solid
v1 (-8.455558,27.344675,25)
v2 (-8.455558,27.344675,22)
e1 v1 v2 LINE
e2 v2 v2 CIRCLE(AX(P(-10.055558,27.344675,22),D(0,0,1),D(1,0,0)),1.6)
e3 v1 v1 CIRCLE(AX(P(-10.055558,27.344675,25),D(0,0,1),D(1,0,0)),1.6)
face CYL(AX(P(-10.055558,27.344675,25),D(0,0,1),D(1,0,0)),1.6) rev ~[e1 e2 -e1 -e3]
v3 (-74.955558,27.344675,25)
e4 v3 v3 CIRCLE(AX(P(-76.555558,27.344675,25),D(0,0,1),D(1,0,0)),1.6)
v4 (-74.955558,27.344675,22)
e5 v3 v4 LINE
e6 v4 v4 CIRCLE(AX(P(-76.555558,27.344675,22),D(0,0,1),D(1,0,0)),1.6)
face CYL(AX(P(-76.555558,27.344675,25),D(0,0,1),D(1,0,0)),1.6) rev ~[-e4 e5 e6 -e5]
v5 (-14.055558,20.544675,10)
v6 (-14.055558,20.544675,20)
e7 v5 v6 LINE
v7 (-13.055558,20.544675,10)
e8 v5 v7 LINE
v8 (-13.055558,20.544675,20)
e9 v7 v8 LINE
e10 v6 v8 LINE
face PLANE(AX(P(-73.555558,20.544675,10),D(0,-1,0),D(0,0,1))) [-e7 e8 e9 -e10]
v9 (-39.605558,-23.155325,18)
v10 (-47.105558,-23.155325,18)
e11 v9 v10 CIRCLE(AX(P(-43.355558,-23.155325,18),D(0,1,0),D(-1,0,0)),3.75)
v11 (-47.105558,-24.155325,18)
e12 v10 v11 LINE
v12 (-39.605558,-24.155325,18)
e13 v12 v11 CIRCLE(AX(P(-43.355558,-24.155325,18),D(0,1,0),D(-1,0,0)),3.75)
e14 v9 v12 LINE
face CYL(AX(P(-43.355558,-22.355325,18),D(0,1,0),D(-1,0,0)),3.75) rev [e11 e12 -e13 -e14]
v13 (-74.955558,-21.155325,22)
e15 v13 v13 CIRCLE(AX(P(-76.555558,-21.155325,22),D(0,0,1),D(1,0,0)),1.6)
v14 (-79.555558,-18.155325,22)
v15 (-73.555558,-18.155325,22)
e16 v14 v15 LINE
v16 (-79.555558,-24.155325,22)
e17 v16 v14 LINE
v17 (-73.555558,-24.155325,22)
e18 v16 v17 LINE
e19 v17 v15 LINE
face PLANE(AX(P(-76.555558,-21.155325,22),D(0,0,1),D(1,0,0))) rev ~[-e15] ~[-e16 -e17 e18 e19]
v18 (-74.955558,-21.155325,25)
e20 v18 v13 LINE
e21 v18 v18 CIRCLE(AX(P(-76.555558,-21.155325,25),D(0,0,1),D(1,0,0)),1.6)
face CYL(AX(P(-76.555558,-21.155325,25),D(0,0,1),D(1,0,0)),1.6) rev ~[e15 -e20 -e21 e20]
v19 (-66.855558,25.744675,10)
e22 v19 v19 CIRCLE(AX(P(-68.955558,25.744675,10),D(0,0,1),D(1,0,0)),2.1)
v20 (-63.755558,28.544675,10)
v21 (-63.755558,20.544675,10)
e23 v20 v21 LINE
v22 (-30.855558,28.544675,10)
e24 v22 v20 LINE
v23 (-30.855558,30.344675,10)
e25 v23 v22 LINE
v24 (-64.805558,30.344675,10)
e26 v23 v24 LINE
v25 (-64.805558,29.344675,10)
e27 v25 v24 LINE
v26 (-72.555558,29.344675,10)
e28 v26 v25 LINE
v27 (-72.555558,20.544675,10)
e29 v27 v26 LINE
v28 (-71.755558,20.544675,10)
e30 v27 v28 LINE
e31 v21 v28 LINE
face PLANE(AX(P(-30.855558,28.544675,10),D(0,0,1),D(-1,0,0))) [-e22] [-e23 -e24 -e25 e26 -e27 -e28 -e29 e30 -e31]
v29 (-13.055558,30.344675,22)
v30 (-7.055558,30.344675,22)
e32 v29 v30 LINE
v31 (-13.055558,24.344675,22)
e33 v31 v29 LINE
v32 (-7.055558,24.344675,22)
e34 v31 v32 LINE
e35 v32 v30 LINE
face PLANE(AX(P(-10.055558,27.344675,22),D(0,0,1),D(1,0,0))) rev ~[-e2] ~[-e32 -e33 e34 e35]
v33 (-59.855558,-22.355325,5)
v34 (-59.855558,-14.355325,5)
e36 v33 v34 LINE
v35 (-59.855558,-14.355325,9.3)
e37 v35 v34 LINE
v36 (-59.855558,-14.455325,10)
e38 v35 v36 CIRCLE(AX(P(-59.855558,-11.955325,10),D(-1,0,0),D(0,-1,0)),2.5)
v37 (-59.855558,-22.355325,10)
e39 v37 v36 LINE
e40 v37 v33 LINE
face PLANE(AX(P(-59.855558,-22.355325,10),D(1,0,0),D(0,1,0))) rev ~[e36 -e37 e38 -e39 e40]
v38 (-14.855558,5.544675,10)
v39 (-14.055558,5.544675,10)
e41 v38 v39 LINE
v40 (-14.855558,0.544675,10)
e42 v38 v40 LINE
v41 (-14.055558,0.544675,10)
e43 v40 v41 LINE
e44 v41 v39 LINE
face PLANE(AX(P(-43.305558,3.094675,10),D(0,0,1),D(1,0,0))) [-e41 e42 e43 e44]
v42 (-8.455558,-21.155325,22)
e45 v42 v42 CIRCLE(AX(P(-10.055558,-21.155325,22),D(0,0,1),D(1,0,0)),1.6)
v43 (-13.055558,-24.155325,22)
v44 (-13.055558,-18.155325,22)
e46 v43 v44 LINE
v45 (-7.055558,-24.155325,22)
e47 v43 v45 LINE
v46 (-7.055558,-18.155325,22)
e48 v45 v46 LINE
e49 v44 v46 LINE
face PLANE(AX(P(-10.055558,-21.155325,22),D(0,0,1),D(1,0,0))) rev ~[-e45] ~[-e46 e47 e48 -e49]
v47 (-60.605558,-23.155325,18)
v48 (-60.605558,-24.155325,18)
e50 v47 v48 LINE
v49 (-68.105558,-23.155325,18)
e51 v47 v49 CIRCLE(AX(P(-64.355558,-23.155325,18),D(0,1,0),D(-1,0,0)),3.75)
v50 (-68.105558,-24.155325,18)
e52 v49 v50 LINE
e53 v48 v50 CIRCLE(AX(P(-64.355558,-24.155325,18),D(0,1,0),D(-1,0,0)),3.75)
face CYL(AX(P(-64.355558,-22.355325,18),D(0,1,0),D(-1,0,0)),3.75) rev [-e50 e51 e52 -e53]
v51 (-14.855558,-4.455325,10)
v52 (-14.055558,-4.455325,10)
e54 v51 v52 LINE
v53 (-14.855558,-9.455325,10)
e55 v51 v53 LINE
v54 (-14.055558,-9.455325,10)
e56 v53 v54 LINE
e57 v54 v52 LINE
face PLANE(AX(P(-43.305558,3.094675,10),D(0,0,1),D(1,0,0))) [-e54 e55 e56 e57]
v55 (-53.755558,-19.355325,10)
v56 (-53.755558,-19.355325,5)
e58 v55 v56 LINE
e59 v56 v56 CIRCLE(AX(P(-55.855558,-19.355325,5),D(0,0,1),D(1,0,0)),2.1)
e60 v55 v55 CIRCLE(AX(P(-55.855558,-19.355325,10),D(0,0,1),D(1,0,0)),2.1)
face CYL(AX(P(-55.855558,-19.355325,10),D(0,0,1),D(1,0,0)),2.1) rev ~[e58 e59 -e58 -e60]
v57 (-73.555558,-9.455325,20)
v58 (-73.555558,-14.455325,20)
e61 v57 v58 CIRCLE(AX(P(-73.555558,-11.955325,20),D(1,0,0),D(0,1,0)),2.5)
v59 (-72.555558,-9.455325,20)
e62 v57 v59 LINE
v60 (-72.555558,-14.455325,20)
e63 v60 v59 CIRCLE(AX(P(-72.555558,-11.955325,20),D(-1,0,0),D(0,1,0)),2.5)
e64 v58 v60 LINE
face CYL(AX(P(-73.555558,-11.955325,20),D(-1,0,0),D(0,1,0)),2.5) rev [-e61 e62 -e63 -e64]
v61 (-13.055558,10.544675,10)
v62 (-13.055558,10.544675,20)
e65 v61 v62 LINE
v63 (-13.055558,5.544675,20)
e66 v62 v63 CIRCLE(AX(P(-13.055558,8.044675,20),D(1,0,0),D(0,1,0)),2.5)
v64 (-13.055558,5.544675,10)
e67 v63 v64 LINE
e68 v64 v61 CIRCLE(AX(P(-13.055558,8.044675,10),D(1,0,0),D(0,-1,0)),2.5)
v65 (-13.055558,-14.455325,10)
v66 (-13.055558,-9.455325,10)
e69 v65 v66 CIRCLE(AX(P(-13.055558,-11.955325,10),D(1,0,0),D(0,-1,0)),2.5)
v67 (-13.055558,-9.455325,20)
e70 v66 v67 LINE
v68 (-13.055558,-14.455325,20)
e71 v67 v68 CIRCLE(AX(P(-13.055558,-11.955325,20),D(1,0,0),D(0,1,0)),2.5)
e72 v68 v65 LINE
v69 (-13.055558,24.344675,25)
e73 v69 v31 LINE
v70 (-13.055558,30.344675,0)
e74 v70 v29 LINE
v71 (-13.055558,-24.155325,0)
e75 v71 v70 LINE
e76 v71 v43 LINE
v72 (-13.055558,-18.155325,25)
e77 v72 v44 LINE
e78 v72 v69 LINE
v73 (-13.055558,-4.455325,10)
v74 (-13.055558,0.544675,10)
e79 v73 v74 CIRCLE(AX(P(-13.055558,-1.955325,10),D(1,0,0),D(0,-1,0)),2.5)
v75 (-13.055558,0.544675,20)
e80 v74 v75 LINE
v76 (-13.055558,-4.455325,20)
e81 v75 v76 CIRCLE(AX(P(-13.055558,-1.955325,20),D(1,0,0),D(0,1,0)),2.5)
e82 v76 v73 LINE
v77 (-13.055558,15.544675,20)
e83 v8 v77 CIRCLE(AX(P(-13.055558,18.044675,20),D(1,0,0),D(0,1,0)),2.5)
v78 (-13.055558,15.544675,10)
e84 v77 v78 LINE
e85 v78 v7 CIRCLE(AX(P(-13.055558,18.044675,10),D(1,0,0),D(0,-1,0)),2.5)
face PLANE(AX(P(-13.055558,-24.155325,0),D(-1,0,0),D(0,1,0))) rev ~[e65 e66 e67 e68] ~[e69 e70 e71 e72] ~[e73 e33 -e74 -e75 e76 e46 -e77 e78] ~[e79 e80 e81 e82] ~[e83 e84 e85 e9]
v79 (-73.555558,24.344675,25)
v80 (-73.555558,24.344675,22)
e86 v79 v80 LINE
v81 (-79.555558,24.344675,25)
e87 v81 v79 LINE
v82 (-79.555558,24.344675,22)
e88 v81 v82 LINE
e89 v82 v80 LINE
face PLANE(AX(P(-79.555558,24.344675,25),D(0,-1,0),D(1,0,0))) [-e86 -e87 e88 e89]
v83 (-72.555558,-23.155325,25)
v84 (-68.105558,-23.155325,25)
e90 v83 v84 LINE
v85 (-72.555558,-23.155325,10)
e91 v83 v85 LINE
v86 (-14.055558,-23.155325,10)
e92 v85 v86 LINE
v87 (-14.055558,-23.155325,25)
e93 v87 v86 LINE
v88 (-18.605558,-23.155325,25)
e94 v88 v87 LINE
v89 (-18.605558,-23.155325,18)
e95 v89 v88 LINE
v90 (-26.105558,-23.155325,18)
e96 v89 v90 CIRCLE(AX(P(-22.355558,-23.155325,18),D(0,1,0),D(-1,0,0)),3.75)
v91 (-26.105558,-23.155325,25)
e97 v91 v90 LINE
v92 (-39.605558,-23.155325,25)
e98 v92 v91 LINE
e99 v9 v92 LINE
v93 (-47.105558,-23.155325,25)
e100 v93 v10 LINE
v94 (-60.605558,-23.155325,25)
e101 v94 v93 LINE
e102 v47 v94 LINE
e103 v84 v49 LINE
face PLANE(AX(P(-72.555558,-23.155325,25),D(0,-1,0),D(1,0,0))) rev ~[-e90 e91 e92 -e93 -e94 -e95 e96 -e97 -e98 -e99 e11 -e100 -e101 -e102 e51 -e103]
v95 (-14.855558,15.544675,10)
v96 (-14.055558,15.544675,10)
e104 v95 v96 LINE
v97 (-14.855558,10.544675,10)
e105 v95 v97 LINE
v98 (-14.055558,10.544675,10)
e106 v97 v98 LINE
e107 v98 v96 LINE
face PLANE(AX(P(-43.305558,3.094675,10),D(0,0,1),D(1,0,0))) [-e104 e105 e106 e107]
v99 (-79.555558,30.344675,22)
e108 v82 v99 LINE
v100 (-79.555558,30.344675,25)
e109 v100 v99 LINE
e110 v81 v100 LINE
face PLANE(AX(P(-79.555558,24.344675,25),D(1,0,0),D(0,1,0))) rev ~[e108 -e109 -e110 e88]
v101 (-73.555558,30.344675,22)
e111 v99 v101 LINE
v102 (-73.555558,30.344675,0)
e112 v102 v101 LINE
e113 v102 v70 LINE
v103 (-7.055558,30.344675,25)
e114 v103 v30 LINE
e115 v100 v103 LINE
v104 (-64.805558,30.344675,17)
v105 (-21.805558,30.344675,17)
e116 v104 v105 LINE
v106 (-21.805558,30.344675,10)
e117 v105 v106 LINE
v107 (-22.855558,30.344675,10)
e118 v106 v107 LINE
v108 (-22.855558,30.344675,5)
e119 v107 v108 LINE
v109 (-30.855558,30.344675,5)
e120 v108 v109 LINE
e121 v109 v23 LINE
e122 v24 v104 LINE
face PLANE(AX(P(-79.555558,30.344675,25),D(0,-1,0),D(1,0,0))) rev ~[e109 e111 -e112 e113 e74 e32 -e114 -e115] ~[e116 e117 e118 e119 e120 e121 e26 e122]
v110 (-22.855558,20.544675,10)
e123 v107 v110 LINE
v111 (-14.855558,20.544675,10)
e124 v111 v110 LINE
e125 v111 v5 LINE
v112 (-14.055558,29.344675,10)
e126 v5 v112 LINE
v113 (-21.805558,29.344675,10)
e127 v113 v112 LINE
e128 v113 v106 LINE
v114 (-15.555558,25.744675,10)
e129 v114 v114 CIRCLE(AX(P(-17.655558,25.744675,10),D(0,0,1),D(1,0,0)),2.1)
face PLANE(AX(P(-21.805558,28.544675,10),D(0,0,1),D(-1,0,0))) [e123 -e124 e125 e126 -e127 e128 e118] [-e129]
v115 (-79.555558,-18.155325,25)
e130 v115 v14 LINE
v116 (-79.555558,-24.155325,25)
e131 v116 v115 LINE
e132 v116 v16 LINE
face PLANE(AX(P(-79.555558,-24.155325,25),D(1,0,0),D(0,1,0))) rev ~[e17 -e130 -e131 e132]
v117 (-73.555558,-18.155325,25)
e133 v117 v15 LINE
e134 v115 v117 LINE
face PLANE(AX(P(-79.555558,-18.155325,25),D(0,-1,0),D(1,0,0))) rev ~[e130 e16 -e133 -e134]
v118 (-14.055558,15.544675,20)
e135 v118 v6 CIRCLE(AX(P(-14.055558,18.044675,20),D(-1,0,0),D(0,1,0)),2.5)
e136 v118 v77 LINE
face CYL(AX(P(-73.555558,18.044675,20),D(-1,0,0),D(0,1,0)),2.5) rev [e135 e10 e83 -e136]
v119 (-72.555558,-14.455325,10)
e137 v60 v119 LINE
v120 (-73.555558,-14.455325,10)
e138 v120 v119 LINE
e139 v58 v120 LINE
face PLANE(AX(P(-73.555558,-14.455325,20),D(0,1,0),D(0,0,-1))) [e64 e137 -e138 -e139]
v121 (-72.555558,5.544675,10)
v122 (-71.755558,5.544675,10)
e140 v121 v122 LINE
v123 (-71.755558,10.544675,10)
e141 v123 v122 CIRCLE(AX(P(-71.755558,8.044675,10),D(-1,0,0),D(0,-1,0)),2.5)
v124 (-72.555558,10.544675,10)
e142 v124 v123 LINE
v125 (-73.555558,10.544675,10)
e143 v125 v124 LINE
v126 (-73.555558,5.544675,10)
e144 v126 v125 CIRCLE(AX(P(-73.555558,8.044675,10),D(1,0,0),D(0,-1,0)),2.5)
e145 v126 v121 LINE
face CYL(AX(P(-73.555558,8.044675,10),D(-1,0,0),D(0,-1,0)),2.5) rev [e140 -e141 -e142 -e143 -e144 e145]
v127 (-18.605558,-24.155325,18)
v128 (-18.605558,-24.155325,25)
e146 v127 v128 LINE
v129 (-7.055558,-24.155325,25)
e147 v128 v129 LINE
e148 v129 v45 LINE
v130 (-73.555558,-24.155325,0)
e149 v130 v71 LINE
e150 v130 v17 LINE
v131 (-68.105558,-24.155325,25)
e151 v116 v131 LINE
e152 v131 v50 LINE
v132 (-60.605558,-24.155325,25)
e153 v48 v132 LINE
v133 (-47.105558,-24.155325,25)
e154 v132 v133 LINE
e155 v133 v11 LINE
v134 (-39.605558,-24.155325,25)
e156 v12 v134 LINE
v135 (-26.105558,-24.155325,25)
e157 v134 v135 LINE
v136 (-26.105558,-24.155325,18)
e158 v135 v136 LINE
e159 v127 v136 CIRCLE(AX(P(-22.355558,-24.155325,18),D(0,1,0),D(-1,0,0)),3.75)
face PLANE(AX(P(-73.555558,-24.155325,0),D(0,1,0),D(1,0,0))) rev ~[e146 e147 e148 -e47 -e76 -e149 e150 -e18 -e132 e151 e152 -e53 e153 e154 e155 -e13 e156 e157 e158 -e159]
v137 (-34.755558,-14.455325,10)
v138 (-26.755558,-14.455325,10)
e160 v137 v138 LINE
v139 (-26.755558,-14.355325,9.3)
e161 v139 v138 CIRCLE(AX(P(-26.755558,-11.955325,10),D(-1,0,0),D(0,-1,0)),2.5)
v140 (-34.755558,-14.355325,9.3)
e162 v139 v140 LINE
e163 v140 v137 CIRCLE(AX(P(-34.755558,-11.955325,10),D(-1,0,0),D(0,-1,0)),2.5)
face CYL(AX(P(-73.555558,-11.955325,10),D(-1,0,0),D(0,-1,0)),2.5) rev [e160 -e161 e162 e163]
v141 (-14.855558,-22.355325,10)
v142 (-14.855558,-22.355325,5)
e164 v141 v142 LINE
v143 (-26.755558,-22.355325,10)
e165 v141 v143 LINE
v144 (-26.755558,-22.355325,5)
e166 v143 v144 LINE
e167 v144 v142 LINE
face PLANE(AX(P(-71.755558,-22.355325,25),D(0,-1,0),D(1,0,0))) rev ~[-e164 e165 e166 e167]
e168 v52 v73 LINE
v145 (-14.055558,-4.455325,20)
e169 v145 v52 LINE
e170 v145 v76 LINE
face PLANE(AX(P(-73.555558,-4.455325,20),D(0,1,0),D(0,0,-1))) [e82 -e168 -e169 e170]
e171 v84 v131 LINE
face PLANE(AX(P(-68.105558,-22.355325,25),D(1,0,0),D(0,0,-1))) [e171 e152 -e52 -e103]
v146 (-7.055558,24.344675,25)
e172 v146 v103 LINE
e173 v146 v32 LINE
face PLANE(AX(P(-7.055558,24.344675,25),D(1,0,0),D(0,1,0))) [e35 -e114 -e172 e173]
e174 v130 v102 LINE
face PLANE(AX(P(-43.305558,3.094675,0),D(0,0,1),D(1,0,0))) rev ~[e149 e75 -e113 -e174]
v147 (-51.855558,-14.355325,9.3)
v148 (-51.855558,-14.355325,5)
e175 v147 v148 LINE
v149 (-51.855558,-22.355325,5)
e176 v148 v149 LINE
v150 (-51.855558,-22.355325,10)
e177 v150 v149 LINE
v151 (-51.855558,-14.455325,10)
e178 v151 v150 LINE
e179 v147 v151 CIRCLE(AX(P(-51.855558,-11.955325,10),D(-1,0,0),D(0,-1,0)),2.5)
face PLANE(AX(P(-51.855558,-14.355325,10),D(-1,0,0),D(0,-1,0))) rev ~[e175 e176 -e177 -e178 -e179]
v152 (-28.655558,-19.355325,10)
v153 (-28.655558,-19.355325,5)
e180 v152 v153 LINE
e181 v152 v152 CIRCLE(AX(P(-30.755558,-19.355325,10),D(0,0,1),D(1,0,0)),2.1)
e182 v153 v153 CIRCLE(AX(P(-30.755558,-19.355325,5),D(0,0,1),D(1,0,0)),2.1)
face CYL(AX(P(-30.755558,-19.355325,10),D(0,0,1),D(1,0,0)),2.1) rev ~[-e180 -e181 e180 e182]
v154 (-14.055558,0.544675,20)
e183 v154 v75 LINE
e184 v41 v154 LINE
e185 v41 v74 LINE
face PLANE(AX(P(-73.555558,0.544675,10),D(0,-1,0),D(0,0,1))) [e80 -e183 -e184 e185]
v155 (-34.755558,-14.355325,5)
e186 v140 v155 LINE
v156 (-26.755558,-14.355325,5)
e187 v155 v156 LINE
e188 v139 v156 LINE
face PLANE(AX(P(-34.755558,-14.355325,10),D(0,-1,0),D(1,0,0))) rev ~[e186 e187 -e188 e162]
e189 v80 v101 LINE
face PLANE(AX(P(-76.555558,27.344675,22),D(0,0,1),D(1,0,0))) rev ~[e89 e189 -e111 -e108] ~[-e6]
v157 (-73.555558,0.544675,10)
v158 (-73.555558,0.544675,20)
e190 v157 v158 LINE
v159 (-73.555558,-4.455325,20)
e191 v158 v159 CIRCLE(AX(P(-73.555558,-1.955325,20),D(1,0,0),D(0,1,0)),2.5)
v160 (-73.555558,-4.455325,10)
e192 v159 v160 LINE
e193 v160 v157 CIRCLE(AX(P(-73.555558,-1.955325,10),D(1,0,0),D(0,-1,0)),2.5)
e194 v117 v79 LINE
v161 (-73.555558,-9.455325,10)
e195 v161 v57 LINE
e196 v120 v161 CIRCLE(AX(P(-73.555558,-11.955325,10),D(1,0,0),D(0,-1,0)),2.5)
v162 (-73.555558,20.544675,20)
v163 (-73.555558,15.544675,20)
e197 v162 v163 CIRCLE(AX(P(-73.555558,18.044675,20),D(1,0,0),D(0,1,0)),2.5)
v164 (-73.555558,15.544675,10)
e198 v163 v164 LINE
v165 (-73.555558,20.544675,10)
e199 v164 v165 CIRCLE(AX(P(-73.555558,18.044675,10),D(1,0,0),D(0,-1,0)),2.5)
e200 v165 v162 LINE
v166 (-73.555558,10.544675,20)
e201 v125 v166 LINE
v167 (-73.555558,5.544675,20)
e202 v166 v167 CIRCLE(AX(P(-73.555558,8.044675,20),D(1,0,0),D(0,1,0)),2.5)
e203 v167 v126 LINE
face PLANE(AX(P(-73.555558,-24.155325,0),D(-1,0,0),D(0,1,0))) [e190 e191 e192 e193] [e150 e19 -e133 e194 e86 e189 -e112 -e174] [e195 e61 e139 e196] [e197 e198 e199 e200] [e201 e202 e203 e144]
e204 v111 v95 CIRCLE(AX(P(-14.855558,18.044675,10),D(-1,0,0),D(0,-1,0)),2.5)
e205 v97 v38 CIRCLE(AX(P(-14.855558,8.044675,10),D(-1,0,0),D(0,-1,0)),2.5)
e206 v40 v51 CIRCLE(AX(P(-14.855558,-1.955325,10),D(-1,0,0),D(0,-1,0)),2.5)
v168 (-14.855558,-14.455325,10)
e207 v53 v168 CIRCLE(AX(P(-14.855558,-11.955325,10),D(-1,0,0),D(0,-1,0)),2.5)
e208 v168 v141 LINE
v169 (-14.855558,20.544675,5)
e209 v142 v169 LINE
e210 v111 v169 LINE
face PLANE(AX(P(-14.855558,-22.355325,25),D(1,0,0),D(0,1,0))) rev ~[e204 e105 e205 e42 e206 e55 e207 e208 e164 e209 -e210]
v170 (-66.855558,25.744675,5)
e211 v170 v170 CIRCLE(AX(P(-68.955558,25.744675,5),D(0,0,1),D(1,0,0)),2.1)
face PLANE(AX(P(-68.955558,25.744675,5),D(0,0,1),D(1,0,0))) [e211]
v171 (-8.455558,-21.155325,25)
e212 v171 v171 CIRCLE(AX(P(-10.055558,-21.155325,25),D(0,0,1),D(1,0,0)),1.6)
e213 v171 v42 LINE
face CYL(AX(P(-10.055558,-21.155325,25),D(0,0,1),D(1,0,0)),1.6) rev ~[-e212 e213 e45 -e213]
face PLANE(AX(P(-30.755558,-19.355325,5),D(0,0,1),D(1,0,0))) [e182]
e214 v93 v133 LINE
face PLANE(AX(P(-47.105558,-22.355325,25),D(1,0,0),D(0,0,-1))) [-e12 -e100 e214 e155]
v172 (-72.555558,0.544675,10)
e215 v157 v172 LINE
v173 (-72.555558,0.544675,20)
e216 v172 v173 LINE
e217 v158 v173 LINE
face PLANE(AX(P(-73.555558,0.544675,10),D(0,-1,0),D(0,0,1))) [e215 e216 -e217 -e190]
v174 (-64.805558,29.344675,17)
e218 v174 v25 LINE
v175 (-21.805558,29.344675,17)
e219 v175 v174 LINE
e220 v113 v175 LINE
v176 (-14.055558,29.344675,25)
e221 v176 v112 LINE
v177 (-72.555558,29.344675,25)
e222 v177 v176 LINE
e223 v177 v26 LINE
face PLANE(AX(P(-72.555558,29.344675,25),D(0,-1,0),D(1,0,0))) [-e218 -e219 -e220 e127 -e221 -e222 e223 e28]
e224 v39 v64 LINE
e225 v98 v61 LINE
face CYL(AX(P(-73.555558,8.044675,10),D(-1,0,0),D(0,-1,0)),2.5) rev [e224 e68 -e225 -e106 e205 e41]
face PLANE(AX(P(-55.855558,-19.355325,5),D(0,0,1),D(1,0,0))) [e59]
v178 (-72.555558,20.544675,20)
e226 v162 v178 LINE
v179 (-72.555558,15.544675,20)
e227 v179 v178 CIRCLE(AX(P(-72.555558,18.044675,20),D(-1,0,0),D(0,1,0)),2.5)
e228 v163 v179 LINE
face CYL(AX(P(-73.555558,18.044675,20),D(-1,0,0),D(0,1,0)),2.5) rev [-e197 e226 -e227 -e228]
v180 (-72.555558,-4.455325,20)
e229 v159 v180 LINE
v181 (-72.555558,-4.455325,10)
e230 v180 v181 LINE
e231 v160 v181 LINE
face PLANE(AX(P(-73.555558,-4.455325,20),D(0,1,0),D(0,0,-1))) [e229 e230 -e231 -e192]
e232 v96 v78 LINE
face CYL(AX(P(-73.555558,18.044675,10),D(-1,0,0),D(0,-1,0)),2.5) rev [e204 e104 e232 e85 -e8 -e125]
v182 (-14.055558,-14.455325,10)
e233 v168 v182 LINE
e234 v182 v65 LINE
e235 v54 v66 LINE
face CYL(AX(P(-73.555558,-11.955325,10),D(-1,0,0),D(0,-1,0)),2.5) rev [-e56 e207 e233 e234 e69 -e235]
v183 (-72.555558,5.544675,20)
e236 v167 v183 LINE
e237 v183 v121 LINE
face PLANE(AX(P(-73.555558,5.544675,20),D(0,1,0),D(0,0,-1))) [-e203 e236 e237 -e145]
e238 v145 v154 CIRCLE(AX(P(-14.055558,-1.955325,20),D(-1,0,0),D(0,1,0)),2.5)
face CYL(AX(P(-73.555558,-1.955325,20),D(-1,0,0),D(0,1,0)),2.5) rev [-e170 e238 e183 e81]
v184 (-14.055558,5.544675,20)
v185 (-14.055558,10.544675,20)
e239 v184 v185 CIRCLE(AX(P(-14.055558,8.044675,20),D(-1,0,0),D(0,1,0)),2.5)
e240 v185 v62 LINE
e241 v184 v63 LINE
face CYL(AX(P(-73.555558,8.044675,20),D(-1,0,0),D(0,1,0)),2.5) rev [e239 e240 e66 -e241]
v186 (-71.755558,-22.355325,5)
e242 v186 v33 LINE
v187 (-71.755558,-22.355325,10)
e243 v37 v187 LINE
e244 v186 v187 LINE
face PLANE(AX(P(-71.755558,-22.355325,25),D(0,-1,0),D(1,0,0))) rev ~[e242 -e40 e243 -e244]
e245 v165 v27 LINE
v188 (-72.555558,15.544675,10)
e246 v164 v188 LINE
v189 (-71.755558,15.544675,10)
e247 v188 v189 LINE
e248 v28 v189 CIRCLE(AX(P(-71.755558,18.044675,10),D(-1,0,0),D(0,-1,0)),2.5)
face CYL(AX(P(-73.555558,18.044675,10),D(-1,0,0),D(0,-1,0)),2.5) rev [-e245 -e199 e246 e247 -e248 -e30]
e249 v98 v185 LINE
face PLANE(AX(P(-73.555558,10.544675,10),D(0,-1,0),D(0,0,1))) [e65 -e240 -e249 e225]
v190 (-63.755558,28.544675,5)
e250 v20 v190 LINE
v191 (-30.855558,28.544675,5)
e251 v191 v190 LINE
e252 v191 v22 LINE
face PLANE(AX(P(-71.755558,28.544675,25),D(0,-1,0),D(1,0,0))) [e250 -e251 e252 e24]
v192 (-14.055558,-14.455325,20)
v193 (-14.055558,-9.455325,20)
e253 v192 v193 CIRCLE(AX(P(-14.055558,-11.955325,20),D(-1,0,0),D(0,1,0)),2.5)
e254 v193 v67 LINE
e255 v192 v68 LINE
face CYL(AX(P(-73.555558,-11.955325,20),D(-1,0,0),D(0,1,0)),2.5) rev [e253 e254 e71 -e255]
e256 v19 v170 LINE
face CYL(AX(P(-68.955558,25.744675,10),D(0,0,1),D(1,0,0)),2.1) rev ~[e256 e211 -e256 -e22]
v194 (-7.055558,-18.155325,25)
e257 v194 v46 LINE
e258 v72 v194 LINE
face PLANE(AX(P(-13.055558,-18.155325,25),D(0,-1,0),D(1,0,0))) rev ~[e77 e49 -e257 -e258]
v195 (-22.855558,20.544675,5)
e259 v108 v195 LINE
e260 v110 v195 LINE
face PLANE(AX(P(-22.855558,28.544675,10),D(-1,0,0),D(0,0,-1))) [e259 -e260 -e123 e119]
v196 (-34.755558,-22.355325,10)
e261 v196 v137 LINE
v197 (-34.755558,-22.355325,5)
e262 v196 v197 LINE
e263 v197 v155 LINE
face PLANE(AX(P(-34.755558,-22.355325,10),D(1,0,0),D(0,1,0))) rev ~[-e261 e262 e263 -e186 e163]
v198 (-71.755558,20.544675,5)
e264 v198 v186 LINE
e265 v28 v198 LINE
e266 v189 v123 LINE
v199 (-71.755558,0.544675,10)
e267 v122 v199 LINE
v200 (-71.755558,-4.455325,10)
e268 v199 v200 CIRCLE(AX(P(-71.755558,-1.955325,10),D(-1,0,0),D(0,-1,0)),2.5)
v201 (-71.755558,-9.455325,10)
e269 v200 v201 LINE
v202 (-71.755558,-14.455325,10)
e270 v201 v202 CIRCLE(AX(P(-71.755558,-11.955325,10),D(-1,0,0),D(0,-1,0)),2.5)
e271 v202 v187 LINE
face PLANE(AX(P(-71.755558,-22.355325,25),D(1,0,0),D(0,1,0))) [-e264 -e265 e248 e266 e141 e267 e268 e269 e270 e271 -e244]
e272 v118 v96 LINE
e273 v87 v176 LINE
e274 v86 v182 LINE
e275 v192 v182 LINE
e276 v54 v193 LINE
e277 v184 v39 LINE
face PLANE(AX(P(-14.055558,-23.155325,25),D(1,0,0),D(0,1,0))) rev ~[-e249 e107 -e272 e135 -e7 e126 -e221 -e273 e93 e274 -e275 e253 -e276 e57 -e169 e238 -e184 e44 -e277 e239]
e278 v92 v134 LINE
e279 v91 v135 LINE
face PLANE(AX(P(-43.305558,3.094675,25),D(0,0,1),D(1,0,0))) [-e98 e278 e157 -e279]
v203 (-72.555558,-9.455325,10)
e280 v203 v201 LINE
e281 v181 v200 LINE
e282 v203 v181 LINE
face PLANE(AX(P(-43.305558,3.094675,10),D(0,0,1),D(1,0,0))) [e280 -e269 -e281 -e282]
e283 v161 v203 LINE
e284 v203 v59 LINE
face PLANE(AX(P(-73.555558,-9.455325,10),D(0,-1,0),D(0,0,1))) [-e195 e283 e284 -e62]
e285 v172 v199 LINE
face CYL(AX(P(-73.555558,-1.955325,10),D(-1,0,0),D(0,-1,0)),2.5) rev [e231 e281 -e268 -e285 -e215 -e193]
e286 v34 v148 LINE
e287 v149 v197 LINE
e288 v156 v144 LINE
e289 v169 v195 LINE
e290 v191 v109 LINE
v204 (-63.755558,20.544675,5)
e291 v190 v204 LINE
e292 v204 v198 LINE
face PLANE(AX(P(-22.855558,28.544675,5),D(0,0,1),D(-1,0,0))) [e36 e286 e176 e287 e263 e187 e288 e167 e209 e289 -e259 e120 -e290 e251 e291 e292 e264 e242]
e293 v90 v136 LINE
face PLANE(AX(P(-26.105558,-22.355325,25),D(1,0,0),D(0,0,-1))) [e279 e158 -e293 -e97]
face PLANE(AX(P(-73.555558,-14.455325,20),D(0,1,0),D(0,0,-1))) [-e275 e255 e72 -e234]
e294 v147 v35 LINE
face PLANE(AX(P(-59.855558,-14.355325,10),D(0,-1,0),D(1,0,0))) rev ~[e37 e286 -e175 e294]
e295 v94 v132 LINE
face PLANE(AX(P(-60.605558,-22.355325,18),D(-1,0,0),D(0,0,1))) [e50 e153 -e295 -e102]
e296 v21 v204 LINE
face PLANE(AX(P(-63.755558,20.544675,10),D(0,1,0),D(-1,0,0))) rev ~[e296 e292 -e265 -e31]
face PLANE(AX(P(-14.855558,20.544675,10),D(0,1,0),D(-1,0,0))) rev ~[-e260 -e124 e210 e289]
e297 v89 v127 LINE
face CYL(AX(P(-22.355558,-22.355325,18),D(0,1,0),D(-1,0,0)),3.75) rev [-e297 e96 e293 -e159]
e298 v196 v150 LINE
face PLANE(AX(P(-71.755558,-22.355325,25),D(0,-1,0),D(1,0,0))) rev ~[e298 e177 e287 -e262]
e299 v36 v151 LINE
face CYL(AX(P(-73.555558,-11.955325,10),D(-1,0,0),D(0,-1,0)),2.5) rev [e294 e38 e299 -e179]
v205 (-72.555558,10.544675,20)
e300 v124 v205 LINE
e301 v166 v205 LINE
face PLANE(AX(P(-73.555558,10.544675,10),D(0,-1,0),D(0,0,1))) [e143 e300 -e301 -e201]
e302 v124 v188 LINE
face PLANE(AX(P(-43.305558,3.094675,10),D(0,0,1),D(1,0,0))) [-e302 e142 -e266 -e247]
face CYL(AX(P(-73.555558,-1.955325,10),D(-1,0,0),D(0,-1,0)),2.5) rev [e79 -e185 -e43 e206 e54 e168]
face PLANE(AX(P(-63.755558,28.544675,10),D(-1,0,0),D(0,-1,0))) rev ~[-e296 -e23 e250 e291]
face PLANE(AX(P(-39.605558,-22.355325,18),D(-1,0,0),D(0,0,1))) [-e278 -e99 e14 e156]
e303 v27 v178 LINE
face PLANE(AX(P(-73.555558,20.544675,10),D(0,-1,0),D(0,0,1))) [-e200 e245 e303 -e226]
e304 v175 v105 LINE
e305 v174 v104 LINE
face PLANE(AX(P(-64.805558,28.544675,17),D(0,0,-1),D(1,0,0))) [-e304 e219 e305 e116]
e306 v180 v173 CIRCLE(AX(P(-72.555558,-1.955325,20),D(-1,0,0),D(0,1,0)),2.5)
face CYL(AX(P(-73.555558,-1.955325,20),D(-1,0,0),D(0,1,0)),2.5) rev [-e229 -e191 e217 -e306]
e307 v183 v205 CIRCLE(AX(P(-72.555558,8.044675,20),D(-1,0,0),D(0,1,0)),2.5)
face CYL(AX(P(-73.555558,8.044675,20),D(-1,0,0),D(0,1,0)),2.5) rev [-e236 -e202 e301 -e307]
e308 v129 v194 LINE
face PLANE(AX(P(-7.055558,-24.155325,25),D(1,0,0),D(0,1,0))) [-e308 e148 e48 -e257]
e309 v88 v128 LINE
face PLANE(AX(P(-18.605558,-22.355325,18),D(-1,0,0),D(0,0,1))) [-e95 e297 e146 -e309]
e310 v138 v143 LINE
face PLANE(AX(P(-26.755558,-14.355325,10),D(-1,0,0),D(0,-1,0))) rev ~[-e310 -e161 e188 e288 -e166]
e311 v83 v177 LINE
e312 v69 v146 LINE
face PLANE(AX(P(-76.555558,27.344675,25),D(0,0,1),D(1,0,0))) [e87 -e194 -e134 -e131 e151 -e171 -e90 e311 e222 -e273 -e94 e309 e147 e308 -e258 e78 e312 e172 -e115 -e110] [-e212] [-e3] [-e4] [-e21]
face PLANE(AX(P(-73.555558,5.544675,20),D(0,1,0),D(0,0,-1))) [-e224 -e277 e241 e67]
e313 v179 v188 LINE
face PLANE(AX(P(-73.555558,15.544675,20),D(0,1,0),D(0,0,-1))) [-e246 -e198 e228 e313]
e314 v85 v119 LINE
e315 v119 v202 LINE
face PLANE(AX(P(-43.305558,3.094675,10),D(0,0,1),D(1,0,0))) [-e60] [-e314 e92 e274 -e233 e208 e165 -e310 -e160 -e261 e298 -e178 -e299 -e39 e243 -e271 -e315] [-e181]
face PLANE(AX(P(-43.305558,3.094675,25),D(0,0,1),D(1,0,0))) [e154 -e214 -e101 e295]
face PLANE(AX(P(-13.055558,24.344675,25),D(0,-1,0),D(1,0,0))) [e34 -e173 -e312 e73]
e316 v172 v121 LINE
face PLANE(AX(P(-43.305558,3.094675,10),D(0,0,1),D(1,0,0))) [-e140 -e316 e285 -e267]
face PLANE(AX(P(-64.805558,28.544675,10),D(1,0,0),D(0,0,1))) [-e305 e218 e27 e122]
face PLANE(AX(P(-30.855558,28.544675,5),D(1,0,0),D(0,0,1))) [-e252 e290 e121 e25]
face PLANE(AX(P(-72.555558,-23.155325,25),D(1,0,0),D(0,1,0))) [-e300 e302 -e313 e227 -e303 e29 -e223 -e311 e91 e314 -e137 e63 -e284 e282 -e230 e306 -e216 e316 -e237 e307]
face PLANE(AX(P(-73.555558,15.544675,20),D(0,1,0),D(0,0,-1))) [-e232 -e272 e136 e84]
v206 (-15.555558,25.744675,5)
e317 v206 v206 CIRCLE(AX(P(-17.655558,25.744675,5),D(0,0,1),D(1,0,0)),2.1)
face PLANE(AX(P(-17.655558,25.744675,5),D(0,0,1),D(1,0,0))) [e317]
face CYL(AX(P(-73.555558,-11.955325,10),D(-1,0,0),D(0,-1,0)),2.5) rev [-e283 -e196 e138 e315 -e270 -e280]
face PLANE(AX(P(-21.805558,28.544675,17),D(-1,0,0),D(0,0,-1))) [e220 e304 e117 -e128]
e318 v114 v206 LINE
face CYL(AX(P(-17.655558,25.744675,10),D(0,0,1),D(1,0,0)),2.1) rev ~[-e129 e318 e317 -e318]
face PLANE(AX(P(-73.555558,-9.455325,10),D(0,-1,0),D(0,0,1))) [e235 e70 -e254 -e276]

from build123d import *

# Parameters (mm, degrees)
CROQUIS1_W              = 60.5
CROQUIS1_H              = 54.5
SALIENTE_EXTRUIR1_DEPTH = 25
CROQUIS2_W              = 56.9
CROQUIS2_H              = 50.9
CORTAR_EXTRUIR1_DEPTH   = 15
CROQUIS3_R              = 2.1
CORTAR_EXTRUIR2_DEPTH   = 5
CORTAR_EXTRUIR3_DEPTH   = 5
CORTAR_EXTRUIR4_DEPTH   = 1.8
CORTAR_EXTRUIR6_START   = -1.8
CORTAR_EXTRUIR6_DEPTH   = 60.5
CROQUIS10_W             = 6
CROQUIS10_H             = 6
CROQUIS10_R             = 1.6
SALIENTE_EXTRUIR2_DEPTH = 3
CROQUIS11_W             = 58.5
CROQUIS11_H             = 52.5
CORTAR_EXTRUIR7_DEPTH   = 15


with BuildPart() as part:
    # Croquis1 → Saliente-Extruir1 (new body)
    with BuildSketch(Plane.XY):
        with Locations((-43.305557703, 3.094674556)):
            Rectangle(CROQUIS1_W, CROQUIS1_H)
    extrude(amount=SALIENTE_EXTRUIR1_DEPTH)

    # Croquis2 → Cortar-Extruir1 (cut)
    with BuildSketch(Plane.XY.offset(25)):
        with Locations((-43.305557703, 3.094674556)):
            Rectangle(CROQUIS2_W, CROQUIS2_H)
    extrude(amount=-CORTAR_EXTRUIR1_DEPTH, mode=Mode.SUBTRACT)

    # Croquis3 → Cortar-Extruir2 (cut)
    with BuildSketch(Plane.XY.offset(10)):
        with Locations((-68.955557703, 25.744674556)):
            Circle(CROQUIS3_R)
        with Locations((-55.855557703, -19.355325444)):
            Circle(CROQUIS3_R)
        with Locations((-30.755557703, -19.355325444)):
            Circle(CROQUIS3_R)
        with Locations((-17.655557703, 25.744674556)):
            Circle(CROQUIS3_R)
        Polygon((-71.755557703, 20.544674556), (-71.755557703, -22.355325444), (-59.855557703, -22.355325444), (-59.855557703, -14.355325444), (-51.855557703, -14.355325444), (-51.855557703, -22.355325444), (-34.755557703, -22.355325444), (-34.755557703, -14.355325444), (-26.755557703, -14.355325444), (-26.755557703, -22.355325444), (-14.855557703, -22.355325444), (-14.855557703, 20.544674556), (-22.855557703, 20.544674556), (-22.855557703, 28.544674556), (-63.755557703, 28.544674556), (-63.755557703, 20.544674556), align=None)
    extrude(amount=-CORTAR_EXTRUIR2_DEPTH, mode=Mode.SUBTRACT)

    # Croquis5 → Cortar-Extruir3 (cut)
    with BuildSketch(Plane(origin=(0, -22.355325444, 0), x_dir=(1, 0, 0), z_dir=(0, 1, 0))):
        with BuildLine():
            Line((-18.605557703, -18), (-18.605557703, -25))
            Line((-18.605557703, -25), (-26.105557703, -25))
            Line((-26.105557703, -25), (-26.105557703, -18))
            ThreePointArc((-26.105557703, -18), (-22.355557703, -14.25), (-18.605557703, -18))
        make_face()
        with BuildLine():
            Line((-39.605557703, -18), (-39.605557703, -25))
            Line((-39.605557703, -25), (-47.105557703, -25))
            Line((-47.105557703, -25), (-47.105557703, -18))
            ThreePointArc((-47.105557703, -18), (-43.355557703, -14.25), (-39.605557703, -18))
        make_face()
        with BuildLine():
            Line((-60.605557703, -18), (-60.605557703, -25))
            Line((-60.605557703, -25), (-68.105557703, -25))
            Line((-68.105557703, -25), (-68.105557703, -18))
            ThreePointArc((-68.105557703, -18), (-64.355557703, -14.25), (-60.605557703, -18))
        make_face()
    extrude(amount=-CORTAR_EXTRUIR3_DEPTH, mode=Mode.SUBTRACT)

    # Croquis6 → Cortar-Extruir4 (cut)
    with BuildSketch(Plane.XZ.offset(-28.544674556)):
        Polygon((-64.805557703, 17), (-21.805557703, 17), (-21.805557703, 10), (-22.855557703, 10), (-22.855557703, 5), (-30.855557703, 5), (-30.855557703, 10), (-64.805557703, 10), align=None)
    extrude(amount=-CORTAR_EXTRUIR4_DEPTH, mode=Mode.SUBTRACT)

    # Croquis9 → Cortar-Extruir6 (cut)
    with BuildSketch(Plane(origin=(-71.755557703, 0, 0), x_dir=(0, 0, -1), z_dir=(1, 0, 0)).offset(CORTAR_EXTRUIR6_START)):
        with BuildLine():
            Line((-10, 20.544674556), (-20, 20.544674556))
            ThreePointArc((-20, 20.544674556), (-22.5, 18.044674556), (-20, 15.544674556))
            Line((-20, 15.544674556), (-10, 15.544674556))
            ThreePointArc((-10, 15.544674556), (-7.5, 18.044674556), (-10, 20.544674556))
        make_face()
        with BuildLine():
            Line((-10, 10.544674556), (-20, 10.544674556))
            ThreePointArc((-20, 10.544674556), (-22.5, 8.044674556), (-20, 5.544674556))
            Line((-20, 5.544674556), (-10, 5.544674556))
            ThreePointArc((-10, 5.544674556), (-7.5, 8.044674556), (-10, 10.544674556))
        make_face()
        with BuildLine():
            Line((-10, 0.544674556), (-20, 0.544674556))
            ThreePointArc((-20, 0.544674556), (-22.5, -1.955325444), (-20, -4.455325444))
            Line((-20, -4.455325444), (-10, -4.455325444))
            ThreePointArc((-10, -4.455325444), (-7.5, -1.955325444), (-10, 0.544674556))
        make_face()
        with BuildLine():
            Line((-10, -9.455325444), (-20, -9.455325444))
            ThreePointArc((-20, -9.455325444), (-22.5, -11.955325444), (-20, -14.455325444))
            Line((-20, -14.455325444), (-10, -14.455325444))
            ThreePointArc((-10, -14.455325444), (-7.5, -11.955325444), (-10, -9.455325444))
        make_face()
    extrude(amount=CORTAR_EXTRUIR6_DEPTH, mode=Mode.SUBTRACT)

    # Croquis10 → Saliente-Extruir2 (add)
    with BuildSketch(Plane.XY.offset(25)):
        with Locations((-76.555557703, 27.344674556)):
            Rectangle(CROQUIS10_W, CROQUIS10_H)
        with Locations((-76.555557703, 27.344674556)):
            Circle(CROQUIS10_R, mode=Mode.SUBTRACT)
        with Locations((-10.055557703, 27.344674556)):
            Rectangle(CROQUIS10_W, CROQUIS10_H)
        with Locations((-10.055557703, 27.344674556)):
            Circle(CROQUIS10_R, mode=Mode.SUBTRACT)
        with Locations((-10.055557703, -21.155325444)):
            Rectangle(CROQUIS10_W, CROQUIS10_H)
        with Locations((-10.055557703, -21.155325444)):
            Circle(CROQUIS10_R, mode=Mode.SUBTRACT)
        with Locations((-76.555557703, -21.155325444)):
            Rectangle(CROQUIS10_W, CROQUIS10_H)
        with Locations((-76.555557703, -21.155325444)):
            Circle(CROQUIS10_R, mode=Mode.SUBTRACT)
    extrude(amount=-SALIENTE_EXTRUIR2_DEPTH)

    # Croquis11 → Cortar-Extruir7 (cut)
    with BuildSketch(Plane.XY.offset(25)):
        with Locations((-43.305557703, 3.094674556)):
            Rectangle(CROQUIS11_W, CROQUIS11_H)
    extrude(amount=-CORTAR_EXTRUIR7_DEPTH, mode=Mode.SUBTRACT)


solid = part.part
